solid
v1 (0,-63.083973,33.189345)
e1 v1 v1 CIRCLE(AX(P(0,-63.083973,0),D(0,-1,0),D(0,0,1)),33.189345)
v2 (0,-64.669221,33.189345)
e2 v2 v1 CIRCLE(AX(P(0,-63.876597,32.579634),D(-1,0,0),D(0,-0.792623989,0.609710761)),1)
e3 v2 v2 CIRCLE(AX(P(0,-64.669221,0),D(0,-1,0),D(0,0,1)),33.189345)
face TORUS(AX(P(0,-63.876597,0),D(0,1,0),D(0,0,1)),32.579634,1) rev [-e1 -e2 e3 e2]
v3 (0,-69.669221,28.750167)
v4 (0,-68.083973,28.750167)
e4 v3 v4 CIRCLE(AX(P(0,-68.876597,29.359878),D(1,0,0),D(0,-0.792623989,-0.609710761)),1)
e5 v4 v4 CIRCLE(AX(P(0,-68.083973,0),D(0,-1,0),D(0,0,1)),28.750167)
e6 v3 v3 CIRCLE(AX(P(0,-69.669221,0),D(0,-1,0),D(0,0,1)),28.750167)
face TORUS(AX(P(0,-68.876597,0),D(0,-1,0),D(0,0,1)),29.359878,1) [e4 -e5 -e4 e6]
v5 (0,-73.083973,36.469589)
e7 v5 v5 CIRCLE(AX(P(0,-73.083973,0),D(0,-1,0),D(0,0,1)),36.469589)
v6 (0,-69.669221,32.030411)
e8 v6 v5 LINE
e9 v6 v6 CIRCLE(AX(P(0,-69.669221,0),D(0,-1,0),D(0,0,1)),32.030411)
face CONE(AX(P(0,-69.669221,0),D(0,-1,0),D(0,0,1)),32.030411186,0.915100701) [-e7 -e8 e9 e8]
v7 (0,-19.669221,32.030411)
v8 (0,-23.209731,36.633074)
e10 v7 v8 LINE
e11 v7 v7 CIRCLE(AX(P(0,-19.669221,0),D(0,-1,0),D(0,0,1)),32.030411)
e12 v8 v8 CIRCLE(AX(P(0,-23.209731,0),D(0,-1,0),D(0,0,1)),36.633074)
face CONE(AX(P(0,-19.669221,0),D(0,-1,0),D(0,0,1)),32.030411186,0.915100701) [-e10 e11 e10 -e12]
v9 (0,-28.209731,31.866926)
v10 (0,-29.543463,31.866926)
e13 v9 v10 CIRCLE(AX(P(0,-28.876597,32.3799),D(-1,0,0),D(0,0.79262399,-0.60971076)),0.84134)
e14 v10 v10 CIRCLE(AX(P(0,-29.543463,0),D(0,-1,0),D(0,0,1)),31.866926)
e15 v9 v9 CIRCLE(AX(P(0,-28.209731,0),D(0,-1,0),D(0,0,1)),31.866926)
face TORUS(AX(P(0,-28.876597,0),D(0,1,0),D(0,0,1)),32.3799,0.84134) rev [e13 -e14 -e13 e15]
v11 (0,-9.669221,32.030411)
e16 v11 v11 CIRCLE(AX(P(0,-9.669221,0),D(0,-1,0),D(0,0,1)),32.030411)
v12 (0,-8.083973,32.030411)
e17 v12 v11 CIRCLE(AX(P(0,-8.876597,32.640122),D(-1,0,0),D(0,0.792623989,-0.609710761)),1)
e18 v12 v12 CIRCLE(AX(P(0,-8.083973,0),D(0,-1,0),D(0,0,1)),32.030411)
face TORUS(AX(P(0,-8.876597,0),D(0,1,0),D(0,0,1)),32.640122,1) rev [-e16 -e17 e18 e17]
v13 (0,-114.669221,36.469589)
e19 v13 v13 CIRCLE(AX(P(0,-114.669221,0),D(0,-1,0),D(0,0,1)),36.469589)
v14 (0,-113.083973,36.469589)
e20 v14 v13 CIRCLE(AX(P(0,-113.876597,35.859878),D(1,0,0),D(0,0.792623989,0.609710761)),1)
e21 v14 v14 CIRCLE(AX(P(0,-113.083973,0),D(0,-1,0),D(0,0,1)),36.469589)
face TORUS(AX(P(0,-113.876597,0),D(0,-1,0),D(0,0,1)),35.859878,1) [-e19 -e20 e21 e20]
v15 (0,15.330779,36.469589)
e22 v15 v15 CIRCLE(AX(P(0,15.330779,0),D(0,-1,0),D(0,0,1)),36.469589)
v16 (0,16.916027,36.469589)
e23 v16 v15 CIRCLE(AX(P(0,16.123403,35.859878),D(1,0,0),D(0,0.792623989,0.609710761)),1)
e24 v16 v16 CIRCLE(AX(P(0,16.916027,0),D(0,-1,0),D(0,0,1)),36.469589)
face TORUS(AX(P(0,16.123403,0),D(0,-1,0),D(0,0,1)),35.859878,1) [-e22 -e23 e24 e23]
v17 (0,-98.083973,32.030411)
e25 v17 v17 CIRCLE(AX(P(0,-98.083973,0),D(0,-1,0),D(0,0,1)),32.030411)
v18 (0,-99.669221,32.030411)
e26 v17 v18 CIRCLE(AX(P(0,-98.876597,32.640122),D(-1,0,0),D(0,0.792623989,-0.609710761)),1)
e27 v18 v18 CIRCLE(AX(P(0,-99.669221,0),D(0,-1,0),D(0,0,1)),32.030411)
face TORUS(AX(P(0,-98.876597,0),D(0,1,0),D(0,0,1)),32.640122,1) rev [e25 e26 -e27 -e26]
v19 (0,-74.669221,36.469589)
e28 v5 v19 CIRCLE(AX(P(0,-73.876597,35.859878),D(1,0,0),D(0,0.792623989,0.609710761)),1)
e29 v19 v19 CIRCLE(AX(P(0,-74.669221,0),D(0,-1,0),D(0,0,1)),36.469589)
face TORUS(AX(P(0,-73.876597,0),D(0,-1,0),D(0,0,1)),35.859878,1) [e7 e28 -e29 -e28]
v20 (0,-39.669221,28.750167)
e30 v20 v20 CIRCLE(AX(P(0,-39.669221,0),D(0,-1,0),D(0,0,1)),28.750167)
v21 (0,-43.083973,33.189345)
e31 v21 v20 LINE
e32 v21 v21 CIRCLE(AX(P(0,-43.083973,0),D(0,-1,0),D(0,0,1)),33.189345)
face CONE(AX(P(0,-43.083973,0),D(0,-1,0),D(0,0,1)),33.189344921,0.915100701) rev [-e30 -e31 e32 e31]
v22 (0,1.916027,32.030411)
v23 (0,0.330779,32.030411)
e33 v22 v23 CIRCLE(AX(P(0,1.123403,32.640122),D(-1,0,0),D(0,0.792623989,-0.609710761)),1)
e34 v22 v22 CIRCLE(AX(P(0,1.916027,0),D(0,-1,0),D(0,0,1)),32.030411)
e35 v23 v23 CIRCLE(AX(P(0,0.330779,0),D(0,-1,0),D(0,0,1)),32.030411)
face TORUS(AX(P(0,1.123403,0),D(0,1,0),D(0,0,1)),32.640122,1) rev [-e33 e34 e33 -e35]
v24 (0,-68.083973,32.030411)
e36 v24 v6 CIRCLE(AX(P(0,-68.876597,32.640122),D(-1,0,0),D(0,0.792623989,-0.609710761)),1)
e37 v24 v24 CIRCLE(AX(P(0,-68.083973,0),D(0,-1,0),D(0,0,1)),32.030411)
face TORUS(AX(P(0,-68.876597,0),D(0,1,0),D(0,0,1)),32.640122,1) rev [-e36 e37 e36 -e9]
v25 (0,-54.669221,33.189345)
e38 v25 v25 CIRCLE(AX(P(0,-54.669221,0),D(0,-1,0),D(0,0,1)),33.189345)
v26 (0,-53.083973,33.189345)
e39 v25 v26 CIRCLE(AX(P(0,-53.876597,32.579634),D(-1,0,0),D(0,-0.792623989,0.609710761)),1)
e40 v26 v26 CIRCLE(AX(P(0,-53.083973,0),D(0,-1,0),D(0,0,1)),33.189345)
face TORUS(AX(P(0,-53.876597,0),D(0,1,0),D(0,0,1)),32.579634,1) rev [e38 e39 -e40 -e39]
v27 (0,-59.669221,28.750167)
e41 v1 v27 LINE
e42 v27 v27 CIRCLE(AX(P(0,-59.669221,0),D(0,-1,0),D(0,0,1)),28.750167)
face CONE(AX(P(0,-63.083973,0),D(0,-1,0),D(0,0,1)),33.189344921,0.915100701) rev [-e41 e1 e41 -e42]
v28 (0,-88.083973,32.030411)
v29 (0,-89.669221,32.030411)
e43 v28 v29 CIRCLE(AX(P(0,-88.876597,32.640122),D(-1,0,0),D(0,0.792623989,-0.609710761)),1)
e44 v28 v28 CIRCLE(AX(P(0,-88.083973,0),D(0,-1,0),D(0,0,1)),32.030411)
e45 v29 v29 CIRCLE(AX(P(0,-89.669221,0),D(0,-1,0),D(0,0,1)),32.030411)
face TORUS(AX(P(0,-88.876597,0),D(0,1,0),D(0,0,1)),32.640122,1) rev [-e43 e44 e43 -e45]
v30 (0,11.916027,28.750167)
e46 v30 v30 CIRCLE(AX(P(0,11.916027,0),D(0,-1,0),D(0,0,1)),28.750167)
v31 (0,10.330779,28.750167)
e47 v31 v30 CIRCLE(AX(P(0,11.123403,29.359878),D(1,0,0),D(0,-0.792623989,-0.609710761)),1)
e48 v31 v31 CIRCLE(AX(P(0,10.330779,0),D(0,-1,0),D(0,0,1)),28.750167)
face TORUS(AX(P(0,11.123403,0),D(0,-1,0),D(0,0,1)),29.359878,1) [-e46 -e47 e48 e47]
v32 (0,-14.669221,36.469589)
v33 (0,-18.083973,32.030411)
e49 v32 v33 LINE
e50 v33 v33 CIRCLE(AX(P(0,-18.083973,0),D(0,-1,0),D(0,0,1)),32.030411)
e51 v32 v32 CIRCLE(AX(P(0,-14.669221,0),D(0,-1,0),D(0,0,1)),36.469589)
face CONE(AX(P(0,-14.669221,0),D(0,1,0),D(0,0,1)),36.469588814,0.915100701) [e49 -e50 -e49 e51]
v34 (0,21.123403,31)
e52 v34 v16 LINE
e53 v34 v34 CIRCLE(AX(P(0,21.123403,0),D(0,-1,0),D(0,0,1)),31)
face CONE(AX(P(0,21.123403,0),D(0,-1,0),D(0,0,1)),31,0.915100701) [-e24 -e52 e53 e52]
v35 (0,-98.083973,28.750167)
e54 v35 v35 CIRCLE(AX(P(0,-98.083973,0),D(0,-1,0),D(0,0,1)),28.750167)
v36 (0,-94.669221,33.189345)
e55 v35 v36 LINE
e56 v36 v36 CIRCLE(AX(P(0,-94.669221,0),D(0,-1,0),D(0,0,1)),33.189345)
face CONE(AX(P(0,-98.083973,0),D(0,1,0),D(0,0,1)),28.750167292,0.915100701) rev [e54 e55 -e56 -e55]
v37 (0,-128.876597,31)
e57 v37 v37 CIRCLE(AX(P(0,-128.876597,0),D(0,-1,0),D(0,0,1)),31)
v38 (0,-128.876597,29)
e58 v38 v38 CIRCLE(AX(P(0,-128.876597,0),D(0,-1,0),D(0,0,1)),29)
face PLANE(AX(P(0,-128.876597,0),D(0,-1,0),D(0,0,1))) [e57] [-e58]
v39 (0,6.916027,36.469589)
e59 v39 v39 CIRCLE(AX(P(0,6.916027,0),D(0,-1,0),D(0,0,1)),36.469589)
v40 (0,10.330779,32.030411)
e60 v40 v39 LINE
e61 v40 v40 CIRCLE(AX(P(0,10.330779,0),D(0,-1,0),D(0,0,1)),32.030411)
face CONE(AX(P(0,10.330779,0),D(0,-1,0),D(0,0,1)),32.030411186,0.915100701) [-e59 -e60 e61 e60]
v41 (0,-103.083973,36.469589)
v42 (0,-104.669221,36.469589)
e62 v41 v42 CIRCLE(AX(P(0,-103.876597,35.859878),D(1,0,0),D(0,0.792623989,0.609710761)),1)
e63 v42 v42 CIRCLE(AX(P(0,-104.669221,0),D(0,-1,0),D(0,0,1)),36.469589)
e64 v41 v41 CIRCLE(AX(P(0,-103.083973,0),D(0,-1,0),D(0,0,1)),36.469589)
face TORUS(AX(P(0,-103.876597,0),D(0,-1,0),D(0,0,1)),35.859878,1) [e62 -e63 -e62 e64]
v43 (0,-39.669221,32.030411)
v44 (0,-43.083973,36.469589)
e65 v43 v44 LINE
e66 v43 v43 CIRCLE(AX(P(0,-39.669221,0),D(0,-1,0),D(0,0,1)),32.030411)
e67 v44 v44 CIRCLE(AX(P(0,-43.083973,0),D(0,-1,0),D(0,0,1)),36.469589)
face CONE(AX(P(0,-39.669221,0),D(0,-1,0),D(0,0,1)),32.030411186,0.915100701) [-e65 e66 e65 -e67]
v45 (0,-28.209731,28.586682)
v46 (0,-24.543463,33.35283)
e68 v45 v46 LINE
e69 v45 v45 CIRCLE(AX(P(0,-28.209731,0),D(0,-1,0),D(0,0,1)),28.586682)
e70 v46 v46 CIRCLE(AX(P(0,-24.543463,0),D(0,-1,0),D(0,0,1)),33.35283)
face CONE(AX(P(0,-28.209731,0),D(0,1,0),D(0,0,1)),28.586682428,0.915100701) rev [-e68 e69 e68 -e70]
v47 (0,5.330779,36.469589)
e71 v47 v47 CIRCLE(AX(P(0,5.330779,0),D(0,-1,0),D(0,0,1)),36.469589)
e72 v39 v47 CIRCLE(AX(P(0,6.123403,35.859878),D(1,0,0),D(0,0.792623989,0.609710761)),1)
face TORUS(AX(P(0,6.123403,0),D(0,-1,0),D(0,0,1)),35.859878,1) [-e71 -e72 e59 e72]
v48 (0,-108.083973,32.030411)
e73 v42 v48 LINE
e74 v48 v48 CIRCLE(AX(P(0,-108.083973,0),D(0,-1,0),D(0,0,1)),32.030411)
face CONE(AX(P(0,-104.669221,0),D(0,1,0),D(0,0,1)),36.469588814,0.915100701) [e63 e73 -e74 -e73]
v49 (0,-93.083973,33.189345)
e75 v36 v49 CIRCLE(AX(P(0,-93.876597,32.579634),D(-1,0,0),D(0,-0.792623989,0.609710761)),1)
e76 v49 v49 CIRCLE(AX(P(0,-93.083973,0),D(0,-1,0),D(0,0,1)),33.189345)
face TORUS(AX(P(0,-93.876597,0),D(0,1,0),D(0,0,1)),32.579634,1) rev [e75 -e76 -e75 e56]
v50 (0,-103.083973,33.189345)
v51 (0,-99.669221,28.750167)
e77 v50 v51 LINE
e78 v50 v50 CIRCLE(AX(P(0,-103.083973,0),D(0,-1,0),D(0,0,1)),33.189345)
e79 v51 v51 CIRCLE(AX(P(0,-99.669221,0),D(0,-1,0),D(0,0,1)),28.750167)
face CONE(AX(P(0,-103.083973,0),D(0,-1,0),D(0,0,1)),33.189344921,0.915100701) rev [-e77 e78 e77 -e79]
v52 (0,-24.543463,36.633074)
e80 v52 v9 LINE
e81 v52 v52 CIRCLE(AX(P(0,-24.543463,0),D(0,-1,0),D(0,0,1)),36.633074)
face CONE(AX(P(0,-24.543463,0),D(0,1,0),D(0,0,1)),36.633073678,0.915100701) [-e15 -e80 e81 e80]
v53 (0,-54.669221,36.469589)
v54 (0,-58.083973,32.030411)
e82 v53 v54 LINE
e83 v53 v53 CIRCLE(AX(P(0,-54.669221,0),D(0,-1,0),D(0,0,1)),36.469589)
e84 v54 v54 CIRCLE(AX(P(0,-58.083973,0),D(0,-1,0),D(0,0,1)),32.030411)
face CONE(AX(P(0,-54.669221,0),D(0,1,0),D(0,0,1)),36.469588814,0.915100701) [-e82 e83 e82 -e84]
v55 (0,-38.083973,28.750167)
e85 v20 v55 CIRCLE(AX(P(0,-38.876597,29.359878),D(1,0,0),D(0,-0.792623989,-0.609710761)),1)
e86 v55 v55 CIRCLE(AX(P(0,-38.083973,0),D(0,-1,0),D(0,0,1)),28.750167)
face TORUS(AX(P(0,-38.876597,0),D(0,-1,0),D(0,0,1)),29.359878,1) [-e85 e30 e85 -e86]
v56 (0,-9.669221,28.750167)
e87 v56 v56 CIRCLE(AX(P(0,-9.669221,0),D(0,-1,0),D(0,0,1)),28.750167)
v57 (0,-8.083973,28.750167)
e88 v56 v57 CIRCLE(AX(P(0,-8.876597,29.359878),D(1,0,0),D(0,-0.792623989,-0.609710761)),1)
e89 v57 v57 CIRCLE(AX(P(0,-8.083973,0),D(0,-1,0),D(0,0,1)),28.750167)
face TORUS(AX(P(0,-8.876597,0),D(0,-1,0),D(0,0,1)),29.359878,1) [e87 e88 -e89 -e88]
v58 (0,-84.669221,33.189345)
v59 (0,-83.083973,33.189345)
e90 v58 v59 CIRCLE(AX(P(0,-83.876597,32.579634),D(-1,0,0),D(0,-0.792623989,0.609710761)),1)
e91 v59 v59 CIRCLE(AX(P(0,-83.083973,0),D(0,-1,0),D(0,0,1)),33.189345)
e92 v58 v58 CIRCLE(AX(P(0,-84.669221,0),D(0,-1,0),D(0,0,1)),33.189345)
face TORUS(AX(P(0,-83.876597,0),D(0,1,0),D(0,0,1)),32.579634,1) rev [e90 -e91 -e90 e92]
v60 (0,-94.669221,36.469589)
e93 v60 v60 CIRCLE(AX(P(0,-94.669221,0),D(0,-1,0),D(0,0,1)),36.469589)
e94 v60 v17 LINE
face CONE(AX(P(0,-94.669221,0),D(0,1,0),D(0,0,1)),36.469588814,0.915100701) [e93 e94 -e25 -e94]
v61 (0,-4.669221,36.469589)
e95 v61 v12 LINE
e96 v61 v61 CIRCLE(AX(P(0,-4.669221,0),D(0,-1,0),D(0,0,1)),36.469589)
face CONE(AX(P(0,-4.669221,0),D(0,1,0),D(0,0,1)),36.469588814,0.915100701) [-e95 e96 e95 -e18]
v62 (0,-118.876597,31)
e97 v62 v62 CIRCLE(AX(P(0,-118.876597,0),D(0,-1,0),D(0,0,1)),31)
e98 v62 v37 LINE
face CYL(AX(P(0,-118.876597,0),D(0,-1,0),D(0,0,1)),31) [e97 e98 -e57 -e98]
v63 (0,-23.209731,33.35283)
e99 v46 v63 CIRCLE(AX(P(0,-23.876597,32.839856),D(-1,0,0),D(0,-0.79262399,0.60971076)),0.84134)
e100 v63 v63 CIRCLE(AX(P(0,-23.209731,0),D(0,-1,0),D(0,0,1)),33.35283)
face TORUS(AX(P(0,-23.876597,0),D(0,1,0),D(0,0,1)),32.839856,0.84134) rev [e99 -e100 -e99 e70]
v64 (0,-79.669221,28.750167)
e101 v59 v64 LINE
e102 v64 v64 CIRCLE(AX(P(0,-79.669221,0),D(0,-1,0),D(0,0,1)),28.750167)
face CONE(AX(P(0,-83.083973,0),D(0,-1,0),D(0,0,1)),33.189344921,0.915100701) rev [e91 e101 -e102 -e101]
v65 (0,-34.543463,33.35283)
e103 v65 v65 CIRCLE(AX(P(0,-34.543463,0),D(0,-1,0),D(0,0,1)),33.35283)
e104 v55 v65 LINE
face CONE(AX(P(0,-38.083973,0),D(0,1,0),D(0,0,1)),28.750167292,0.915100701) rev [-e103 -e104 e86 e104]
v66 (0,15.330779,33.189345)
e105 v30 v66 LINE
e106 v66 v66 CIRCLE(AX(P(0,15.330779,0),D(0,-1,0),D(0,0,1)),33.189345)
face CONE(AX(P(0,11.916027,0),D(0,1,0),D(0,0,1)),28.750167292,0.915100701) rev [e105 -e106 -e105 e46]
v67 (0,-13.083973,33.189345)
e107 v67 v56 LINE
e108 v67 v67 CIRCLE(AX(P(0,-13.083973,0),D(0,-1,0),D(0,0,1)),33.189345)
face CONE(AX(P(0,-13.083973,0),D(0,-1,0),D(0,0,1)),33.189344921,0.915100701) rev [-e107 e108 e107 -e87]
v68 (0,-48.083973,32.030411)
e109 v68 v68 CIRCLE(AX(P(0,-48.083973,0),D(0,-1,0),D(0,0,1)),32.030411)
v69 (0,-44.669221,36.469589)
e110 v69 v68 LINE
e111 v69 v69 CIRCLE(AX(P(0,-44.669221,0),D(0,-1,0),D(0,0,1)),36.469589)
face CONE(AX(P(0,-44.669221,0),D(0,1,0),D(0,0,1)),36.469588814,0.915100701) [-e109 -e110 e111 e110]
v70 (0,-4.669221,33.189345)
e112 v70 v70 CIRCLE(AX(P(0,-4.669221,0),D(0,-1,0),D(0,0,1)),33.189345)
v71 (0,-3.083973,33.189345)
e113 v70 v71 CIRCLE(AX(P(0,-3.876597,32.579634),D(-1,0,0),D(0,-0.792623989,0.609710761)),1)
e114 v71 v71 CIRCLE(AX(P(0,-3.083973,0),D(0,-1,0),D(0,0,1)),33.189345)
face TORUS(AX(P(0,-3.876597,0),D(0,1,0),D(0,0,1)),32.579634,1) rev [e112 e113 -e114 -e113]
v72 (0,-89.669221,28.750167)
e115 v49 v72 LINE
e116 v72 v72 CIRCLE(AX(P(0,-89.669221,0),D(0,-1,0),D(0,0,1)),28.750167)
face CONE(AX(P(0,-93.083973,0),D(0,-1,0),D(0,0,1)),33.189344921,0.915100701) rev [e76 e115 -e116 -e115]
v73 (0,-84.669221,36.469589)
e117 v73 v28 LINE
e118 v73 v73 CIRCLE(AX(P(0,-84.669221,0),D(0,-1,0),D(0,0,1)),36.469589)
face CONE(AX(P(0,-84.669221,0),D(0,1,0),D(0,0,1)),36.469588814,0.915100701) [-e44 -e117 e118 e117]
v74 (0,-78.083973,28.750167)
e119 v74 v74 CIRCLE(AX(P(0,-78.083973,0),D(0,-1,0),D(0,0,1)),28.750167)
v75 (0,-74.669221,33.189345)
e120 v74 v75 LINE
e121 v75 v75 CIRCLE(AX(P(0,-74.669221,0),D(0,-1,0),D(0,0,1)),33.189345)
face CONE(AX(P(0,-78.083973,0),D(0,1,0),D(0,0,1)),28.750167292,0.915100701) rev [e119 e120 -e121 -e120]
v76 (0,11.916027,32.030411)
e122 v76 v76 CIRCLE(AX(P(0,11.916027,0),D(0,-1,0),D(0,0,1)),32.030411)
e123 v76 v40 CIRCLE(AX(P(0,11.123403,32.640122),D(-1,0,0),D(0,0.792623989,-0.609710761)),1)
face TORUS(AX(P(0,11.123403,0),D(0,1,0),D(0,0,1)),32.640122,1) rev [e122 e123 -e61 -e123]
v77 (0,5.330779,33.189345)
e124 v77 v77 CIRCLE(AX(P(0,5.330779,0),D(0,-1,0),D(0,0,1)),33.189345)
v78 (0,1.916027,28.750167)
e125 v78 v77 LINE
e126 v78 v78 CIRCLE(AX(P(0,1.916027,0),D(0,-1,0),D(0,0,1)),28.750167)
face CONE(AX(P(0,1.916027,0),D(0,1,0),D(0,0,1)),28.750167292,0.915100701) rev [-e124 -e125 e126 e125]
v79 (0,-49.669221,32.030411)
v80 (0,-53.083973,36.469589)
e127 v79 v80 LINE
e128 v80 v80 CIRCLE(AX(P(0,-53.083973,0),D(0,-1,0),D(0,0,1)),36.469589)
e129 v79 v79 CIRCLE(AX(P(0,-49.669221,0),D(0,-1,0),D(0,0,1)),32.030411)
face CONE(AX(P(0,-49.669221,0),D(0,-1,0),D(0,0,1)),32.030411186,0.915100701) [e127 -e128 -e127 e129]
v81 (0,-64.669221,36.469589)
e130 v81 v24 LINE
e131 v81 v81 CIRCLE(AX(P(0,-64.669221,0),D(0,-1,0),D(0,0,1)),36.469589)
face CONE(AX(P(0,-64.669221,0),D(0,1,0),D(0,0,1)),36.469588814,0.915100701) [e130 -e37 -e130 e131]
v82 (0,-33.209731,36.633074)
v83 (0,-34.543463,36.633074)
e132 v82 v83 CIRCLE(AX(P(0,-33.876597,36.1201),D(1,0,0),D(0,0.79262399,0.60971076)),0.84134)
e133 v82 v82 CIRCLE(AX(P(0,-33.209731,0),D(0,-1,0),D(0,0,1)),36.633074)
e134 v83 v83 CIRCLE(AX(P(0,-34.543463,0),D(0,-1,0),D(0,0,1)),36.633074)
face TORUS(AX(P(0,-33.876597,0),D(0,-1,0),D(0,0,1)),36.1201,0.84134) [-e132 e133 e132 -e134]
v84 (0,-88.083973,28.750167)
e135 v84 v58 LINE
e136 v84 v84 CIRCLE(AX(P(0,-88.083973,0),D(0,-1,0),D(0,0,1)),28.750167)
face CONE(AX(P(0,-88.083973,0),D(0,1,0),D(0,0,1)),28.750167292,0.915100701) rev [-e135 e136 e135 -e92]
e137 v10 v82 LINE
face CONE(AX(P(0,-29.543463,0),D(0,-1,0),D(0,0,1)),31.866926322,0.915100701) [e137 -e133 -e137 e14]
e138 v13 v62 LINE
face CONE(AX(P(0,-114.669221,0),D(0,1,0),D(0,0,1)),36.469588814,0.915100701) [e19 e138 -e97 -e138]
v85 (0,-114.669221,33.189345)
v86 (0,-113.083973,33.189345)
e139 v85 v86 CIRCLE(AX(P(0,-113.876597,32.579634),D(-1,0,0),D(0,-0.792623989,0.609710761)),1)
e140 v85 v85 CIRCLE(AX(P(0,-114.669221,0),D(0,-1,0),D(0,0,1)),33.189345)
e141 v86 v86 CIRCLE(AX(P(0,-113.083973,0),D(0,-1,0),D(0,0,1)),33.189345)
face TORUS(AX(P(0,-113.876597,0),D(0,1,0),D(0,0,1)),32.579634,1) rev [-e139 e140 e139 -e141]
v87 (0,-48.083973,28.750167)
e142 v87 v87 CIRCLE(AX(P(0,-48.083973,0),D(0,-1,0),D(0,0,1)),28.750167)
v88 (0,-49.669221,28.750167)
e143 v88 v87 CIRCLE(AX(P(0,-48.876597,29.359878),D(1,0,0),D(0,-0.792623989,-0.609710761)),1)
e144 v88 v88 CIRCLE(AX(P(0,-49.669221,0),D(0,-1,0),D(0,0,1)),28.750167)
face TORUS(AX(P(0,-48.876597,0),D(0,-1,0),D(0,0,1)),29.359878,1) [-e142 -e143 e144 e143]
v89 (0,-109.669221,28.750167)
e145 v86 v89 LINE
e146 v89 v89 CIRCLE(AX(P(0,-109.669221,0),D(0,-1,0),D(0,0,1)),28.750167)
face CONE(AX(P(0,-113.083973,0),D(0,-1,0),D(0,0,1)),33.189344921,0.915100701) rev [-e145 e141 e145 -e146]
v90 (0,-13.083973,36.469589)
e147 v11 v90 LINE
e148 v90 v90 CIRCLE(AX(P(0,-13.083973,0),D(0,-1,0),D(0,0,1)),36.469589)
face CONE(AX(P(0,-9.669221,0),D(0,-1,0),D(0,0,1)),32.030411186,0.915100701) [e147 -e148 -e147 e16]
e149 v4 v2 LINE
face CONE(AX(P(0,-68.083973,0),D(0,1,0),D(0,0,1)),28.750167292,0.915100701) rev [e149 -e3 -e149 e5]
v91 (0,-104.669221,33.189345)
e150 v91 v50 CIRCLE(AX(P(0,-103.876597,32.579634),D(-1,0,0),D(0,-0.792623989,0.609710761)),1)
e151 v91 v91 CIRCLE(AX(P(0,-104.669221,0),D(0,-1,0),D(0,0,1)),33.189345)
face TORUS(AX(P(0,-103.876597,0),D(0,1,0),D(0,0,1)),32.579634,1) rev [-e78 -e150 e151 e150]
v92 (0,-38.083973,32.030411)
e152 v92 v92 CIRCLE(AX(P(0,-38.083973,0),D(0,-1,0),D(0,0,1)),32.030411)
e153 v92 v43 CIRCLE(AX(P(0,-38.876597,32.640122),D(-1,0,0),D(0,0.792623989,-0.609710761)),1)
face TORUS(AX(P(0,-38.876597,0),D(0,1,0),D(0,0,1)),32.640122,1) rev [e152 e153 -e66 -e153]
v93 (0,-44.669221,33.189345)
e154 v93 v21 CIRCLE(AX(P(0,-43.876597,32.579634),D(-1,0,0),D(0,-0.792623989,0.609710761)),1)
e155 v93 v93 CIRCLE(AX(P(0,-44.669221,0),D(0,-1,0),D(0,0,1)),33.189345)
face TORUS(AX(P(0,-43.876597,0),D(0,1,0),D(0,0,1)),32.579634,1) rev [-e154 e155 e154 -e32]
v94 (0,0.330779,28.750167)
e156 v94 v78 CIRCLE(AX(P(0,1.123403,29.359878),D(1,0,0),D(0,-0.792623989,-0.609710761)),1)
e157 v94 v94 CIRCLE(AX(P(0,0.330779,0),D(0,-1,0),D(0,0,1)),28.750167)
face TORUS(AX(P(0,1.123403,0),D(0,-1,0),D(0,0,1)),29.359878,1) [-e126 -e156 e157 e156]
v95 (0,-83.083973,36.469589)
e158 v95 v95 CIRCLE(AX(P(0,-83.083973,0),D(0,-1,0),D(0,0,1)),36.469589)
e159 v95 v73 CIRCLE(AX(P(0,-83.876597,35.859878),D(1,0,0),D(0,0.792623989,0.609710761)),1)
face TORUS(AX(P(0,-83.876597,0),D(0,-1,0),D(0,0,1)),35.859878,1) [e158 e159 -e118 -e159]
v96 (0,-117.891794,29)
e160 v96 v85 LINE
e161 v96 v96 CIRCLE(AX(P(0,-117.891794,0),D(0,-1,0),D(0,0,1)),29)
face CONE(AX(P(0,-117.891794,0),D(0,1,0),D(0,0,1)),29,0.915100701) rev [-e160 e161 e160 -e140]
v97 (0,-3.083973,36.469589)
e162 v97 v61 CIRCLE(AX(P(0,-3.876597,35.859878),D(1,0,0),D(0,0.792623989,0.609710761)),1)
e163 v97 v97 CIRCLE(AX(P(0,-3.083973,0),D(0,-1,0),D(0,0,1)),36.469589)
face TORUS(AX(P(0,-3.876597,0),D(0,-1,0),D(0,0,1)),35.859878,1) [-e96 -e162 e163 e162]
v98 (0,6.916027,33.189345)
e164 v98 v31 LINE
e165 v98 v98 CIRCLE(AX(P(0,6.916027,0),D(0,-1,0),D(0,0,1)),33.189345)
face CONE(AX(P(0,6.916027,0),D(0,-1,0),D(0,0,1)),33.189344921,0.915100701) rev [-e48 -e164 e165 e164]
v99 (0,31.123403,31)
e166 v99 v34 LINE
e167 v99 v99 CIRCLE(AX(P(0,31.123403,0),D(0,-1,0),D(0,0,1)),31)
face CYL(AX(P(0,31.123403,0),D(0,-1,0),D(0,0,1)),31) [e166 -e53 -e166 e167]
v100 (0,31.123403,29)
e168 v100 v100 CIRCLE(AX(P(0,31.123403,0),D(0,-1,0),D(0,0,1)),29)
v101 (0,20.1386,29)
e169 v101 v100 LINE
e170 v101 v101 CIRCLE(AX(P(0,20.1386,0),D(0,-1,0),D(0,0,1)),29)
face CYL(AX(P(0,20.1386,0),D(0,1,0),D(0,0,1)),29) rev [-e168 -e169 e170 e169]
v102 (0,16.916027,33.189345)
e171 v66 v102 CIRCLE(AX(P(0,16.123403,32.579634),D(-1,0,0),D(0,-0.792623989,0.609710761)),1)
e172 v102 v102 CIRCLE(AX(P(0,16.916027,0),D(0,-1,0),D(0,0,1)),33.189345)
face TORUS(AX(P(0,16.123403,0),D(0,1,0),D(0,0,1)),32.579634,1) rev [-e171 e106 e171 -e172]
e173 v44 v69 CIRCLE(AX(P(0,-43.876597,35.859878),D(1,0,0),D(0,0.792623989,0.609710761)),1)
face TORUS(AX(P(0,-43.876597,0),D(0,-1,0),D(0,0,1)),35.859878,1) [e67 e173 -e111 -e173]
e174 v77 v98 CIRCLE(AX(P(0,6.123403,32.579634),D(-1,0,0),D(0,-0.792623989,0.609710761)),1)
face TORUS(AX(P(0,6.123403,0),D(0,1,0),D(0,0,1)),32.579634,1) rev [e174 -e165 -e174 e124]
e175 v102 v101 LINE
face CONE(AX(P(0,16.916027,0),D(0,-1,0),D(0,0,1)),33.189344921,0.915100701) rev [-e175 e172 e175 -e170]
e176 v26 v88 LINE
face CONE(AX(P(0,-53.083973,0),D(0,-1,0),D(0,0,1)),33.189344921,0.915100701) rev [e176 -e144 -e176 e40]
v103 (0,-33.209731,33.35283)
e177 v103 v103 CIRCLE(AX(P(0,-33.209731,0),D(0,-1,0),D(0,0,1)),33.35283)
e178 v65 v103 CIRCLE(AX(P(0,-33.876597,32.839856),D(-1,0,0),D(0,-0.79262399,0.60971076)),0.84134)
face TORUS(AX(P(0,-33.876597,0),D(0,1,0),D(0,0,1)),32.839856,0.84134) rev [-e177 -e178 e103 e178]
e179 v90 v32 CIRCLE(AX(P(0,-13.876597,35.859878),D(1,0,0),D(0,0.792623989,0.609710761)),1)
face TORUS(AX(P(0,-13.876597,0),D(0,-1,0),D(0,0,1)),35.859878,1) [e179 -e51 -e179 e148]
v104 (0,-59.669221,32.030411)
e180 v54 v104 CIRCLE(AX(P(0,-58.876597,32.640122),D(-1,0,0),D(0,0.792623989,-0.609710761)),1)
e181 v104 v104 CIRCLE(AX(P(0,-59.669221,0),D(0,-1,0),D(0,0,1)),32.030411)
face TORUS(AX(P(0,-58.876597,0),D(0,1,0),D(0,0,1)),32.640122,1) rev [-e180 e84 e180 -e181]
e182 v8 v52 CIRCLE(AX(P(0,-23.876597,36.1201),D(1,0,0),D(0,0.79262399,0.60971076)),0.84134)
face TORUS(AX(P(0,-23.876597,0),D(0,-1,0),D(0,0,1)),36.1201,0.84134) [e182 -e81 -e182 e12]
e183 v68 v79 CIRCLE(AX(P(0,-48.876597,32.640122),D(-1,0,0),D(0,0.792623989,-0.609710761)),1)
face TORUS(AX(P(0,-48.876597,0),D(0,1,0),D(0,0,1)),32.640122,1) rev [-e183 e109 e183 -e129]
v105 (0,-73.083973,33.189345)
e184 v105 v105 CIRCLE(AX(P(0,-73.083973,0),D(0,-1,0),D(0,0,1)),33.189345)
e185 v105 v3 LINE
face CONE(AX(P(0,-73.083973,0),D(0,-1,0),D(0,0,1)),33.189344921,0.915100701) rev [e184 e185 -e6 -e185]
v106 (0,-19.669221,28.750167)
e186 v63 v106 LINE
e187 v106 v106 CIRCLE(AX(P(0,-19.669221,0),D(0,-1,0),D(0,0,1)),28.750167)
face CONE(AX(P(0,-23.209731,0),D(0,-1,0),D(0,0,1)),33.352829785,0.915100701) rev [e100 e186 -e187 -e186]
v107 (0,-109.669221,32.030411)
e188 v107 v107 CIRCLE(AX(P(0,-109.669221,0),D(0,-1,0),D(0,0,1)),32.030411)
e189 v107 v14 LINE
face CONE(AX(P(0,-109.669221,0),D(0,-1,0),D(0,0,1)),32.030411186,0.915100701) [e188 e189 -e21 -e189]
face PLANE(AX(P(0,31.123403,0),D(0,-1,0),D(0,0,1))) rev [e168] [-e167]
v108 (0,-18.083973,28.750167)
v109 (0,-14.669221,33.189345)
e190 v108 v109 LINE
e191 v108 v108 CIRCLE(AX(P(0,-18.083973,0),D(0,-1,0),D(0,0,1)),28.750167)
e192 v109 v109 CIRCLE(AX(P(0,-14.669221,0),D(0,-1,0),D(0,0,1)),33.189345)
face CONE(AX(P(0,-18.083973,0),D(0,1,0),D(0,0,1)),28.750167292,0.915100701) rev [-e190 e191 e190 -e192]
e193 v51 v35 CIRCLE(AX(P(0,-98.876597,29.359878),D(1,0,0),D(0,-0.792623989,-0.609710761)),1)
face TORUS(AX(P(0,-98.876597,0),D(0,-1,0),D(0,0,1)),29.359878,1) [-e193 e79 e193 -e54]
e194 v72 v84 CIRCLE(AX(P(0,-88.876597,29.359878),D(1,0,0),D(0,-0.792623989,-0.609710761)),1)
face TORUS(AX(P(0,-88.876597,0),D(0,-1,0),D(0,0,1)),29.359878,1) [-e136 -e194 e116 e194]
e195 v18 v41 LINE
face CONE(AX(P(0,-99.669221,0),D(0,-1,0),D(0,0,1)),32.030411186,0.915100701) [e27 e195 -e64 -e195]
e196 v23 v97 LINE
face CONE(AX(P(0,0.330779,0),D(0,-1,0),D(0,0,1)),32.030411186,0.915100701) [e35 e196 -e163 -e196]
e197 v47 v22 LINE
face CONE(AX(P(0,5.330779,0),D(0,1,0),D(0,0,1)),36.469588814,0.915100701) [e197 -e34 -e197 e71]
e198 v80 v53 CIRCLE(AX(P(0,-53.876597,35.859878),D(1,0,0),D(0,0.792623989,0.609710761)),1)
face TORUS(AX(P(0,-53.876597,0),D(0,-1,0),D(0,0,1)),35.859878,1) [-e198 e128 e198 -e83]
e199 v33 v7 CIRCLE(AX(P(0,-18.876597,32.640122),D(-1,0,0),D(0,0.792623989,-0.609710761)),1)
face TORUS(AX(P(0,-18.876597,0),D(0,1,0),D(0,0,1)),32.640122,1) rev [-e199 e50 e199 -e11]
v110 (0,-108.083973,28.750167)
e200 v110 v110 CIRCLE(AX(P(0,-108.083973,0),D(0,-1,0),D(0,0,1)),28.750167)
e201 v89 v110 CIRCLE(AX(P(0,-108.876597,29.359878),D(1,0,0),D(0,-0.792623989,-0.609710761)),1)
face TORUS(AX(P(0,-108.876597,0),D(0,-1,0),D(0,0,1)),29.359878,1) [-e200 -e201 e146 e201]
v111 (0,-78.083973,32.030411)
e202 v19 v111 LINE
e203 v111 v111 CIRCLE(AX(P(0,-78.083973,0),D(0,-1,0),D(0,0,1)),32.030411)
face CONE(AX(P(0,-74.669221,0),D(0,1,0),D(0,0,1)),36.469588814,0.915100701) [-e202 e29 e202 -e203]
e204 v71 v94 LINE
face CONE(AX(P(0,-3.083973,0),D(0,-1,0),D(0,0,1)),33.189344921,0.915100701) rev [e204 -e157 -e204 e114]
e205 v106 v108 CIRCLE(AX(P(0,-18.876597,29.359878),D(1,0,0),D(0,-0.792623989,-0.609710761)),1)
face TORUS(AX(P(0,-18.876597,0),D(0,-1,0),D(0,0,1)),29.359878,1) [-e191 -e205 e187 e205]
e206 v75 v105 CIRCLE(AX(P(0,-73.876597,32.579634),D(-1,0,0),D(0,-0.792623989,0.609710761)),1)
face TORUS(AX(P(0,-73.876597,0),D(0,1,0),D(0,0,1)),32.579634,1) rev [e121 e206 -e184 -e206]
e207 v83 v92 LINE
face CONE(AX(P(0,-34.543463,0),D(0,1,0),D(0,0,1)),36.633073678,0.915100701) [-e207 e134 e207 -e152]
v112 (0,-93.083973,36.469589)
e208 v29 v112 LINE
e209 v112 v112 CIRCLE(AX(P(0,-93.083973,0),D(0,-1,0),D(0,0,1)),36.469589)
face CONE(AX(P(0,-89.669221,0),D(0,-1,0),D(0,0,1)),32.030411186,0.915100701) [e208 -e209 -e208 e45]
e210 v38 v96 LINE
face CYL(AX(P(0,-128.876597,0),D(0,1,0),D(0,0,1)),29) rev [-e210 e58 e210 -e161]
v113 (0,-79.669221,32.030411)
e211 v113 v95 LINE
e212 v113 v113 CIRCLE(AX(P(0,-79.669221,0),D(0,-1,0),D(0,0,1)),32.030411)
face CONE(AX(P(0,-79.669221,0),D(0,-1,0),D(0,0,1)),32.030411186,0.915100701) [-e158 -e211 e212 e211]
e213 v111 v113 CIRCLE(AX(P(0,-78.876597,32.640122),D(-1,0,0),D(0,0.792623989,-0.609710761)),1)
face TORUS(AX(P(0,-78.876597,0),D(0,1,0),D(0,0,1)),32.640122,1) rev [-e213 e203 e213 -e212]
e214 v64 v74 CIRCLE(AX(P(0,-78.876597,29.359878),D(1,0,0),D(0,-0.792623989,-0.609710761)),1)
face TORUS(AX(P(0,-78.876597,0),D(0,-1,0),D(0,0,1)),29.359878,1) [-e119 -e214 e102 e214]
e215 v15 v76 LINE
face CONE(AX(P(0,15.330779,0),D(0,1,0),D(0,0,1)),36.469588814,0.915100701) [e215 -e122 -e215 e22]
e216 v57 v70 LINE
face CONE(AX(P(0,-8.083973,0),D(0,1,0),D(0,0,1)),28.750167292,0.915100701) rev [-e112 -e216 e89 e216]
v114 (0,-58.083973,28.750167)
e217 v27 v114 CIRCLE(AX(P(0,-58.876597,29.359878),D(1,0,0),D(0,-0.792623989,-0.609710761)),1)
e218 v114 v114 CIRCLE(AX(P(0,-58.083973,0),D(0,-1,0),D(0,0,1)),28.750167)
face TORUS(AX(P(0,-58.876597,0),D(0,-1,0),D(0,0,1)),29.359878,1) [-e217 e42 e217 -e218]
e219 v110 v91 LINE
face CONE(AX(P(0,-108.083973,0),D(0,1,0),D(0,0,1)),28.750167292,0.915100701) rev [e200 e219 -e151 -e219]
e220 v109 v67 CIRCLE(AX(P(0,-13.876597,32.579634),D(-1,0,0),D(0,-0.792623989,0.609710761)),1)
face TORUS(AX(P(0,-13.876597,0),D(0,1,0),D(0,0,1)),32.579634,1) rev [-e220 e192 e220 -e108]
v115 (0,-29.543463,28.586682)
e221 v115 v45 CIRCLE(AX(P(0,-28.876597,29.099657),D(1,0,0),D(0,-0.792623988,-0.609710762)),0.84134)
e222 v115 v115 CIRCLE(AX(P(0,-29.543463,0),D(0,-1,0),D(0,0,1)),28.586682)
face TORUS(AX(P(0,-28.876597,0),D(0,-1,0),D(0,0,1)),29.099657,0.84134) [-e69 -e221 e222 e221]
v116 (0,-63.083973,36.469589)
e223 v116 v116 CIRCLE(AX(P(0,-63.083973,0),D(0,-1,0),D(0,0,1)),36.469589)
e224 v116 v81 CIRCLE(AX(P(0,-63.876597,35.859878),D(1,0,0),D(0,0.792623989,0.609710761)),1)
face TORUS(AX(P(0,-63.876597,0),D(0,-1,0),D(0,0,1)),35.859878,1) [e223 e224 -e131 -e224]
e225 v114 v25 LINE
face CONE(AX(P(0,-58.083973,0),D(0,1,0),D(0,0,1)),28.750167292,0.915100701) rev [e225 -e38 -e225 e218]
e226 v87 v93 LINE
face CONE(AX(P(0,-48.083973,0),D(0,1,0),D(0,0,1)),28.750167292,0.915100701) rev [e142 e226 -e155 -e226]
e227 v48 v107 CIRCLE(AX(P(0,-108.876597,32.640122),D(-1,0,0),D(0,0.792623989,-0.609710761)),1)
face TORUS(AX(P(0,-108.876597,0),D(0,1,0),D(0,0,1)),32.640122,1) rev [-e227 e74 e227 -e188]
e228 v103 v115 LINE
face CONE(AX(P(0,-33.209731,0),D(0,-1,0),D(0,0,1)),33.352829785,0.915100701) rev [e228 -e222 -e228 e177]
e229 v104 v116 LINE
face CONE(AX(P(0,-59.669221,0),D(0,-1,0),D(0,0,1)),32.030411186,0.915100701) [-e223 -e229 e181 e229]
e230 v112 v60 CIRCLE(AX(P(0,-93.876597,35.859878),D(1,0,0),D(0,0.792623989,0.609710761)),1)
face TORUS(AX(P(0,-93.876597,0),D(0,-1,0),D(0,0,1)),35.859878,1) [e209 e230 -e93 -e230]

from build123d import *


with BuildPart() as part:
    # Sketch1 → Revolve1 (revolve)
    with BuildSketch(Plane(origin=(0, 0, 0), x_dir=(0, 0, -1), z_dir=(1, 0, 0))):
        with BuildLine():
            Line((-31, 31.12340293), (-31, 21.12340293))
            Line((-31, 21.12340293), (-36.469588814, 16.916026919))
            ThreePointArc((-36.469588814, 16.916026919), (-36.859878053, 16.12340293), (-36.469588814, 15.33077894))
            Line((-36.469588814, 15.33077894), (-32.030411186, 11.916026919))
            ThreePointArc((-32.030411186, 11.916026919), (-31.640121947, 11.12340293), (-32.030411186, 10.33077894))
            Line((-32.030411186, 10.33077894), (-36.469588814, 6.916026919))
            ThreePointArc((-36.469588814, 6.916026919), (-36.859878053, 6.12340293), (-36.469588814, 5.33077894))
            Line((-36.469588814, 5.33077894), (-32.030411186, 1.916026919))
            ThreePointArc((-32.030411186, 1.916026919), (-31.640121947, 1.12340293), (-32.030411186, 0.33077894))
            Line((-32.030411186, 0.33077894), (-36.469588814, -3.083973081))
            ThreePointArc((-36.469588814, -3.083973081), (-36.859878053, -3.87659707), (-36.469588814, -4.66922106))
            Line((-36.469588814, -4.66922106), (-32.030411186, -8.083973081))
            ThreePointArc((-32.030411186, -8.083973081), (-31.640121947, -8.87659707), (-32.030411186, -9.66922106))
            Line((-32.030411186, -9.66922106), (-36.469588814, -13.083973081))
            ThreePointArc((-36.469588814, -13.083973081), (-36.859878053, -13.87659707), (-36.469588814, -14.66922106))
            Line((-36.469588814, -14.66922106), (-32.030411186, -18.083973081))
            ThreePointArc((-32.030411186, -18.083973081), (-31.640121947, -18.87659707), (-32.030411186, -19.66922106))
            Line((-32.030411186, -19.66922106), (-36.633073678, -23.209730669))
            ThreePointArc((-36.633073678, -23.209730669), (-36.961439693, -23.87659707), (-36.633073678, -24.543463472))
            Line((-36.633073678, -24.543463472), (-31.866926322, -28.209730669))
            ThreePointArc((-31.866926322, -28.209730669), (-31.538560307, -28.87659707), (-31.866926322, -29.543463472))
            Line((-31.866926322, -29.543463472), (-36.633073678, -33.209730669))
            ThreePointArc((-36.633073678, -33.209730669), (-36.961439693, -33.87659707), (-36.633073678, -34.543463472))
            Line((-36.633073678, -34.543463472), (-32.030411186, -38.083973081))
            ThreePointArc((-32.030411186, -38.083973081), (-31.640121947, -38.87659707), (-32.030411186, -39.66922106))
            Line((-32.030411186, -39.66922106), (-36.469588814, -43.083973081))
            ThreePointArc((-36.469588814, -43.083973081), (-36.859878053, -43.87659707), (-36.469588814, -44.66922106))
            Line((-36.469588814, -44.66922106), (-32.030411186, -48.083973081))
            ThreePointArc((-32.030411186, -48.083973081), (-31.640121947, -48.87659707), (-32.030411186, -49.66922106))
            Line((-32.030411186, -49.66922106), (-36.469588814, -53.083973081))
            ThreePointArc((-36.469588814, -53.083973081), (-36.859878053, -53.87659707), (-36.469588814, -54.66922106))
            Line((-36.469588814, -54.66922106), (-32.030411186, -58.083973081))
            ThreePointArc((-32.030411186, -58.083973081), (-31.640121947, -58.87659707), (-32.030411186, -59.66922106))
            Line((-32.030411186, -59.66922106), (-36.469588814, -63.083973081))
            ThreePointArc((-36.469588814, -63.083973081), (-36.859878053, -63.87659707), (-36.469588814, -64.66922106))
            Line((-36.469588814, -64.66922106), (-32.030411186, -68.083973081))
            ThreePointArc((-32.030411186, -68.083973081), (-31.640121947, -68.87659707), (-32.030411186, -69.66922106))
            Line((-32.030411186, -69.66922106), (-36.469588814, -73.083973081))
            ThreePointArc((-36.469588814, -73.083973081), (-36.859878053, -73.87659707), (-36.469588814, -74.66922106))
            Line((-36.469588814, -74.66922106), (-32.030411186, -78.083973081))
            ThreePointArc((-32.030411186, -78.083973081), (-31.640121947, -78.87659707), (-32.030411186, -79.66922106))
            Line((-32.030411186, -79.66922106), (-36.469588814, -83.083973081))
            ThreePointArc((-36.469588814, -83.083973081), (-36.859878053, -83.87659707), (-36.469588814, -84.66922106))
            Line((-36.469588814, -84.66922106), (-32.030411186, -88.083973081))
            ThreePointArc((-32.030411186, -88.083973081), (-31.640121947, -88.87659707), (-32.030411186, -89.66922106))
            Line((-32.030411186, -89.66922106), (-36.469588814, -93.083973081))
            ThreePointArc((-36.469588814, -93.083973081), (-36.859878053, -93.87659707), (-36.469588814, -94.66922106))
            Line((-36.469588814, -94.66922106), (-32.030411186, -98.083973081))
            ThreePointArc((-32.030411186, -98.083973081), (-31.640121947, -98.87659707), (-32.030411186, -99.66922106))
            Line((-32.030411186, -99.66922106), (-36.469588814, -103.083973081))
            ThreePointArc((-36.469588814, -103.083973081), (-36.859878053, -103.87659707), (-36.469588814, -104.66922106))
            Line((-36.469588814, -104.66922106), (-32.030411186, -108.083973081))
            ThreePointArc((-32.030411186, -108.083973081), (-31.640121947, -108.87659707), (-32.030411186, -109.66922106))
            Line((-32.030411186, -109.66922106), (-36.469588814, -113.083973081))
            ThreePointArc((-36.469588814, -113.083973081), (-36.859878053, -113.87659707), (-36.469588814, -114.66922106))
            Line((-36.469588814, -114.66922106), (-31, -118.87659707))
            Line((-31, -118.87659707), (-31, -128.87659707))
            Line((-31, -128.87659707), (-29, -128.87659707))
            Line((-29, -128.87659707), (-29, -117.891794076))
            Line((-29, -117.891794076), (-33.189344921, -114.66922106))
            ThreePointArc((-33.189344921, -114.66922106), (-33.57963416, -113.87659707), (-33.189344921, -113.083973081))
            Line((-33.189344921, -113.083973081), (-28.750167292, -109.66922106))
            ThreePointArc((-28.750167292, -109.66922106), (-28.359878053, -108.87659707), (-28.750167292, -108.083973081))
            Line((-28.750167292, -108.083973081), (-33.189344921, -104.66922106))
            ThreePointArc((-33.189344921, -104.66922106), (-33.57963416, -103.87659707), (-33.189344921, -103.083973081))
            Line((-33.189344921, -103.083973081), (-28.750167292, -99.66922106))
            ThreePointArc((-28.750167292, -99.66922106), (-28.359878053, -98.87659707), (-28.750167292, -98.083973081))
            Line((-28.750167292, -98.083973081), (-33.189344921, -94.66922106))
            ThreePointArc((-33.189344921, -94.66922106), (-33.57963416, -93.87659707), (-33.189344921, -93.083973081))
            Line((-33.189344921, -93.083973081), (-28.750167292, -89.66922106))
            ThreePointArc((-28.750167292, -89.66922106), (-28.359878053, -88.87659707), (-28.750167292, -88.083973081))
            Line((-28.750167292, -88.083973081), (-33.189344921, -84.66922106))
            ThreePointArc((-33.189344921, -84.66922106), (-33.57963416, -83.87659707), (-33.189344921, -83.083973081))
            Line((-33.189344921, -83.083973081), (-28.750167292, -79.66922106))
            ThreePointArc((-28.750167292, -79.66922106), (-28.359878053, -78.87659707), (-28.750167292, -78.083973081))
            Line((-28.750167292, -78.083973081), (-33.189344921, -74.66922106))
            ThreePointArc((-33.189344921, -74.66922106), (-33.57963416, -73.87659707), (-33.189344921, -73.083973081))
            Line((-33.189344921, -73.083973081), (-28.750167292, -69.66922106))
            ThreePointArc((-28.750167292, -69.66922106), (-28.359878053, -68.87659707), (-28.750167292, -68.083973081))
            Line((-28.750167292, -68.083973081), (-33.189344921, -64.66922106))
            ThreePointArc((-33.189344921, -64.66922106), (-33.57963416, -63.87659707), (-33.189344921, -63.083973081))
            Line((-33.189344921, -63.083973081), (-28.750167292, -59.66922106))
            ThreePointArc((-28.750167292, -59.66922106), (-28.359878053, -58.87659707), (-28.750167292, -58.083973081))
            Line((-28.750167292, -58.083973081), (-33.189344921, -54.66922106))
            ThreePointArc((-33.189344921, -54.66922106), (-33.57963416, -53.87659707), (-33.189344921, -53.083973081))
            Line((-33.189344921, -53.083973081), (-28.750167292, -49.66922106))
            ThreePointArc((-28.750167292, -49.66922106), (-28.359878053, -48.87659707), (-28.750167292, -48.083973081))
            Line((-28.750167292, -48.083973081), (-33.189344921, -44.66922106))
            ThreePointArc((-33.189344921, -44.66922106), (-33.57963416, -43.87659707), (-33.189344921, -43.083973081))
            Line((-33.189344921, -43.083973081), (-28.750167292, -39.66922106))
            ThreePointArc((-28.750167292, -39.66922106), (-28.359878053, -38.87659707), (-28.750167292, -38.083973081))
            Line((-28.750167292, -38.083973081), (-33.352829785, -34.543463472))
            ThreePointArc((-33.352829785, -34.543463472), (-33.6811958, -33.87659707), (-33.352829785, -33.209730669))
            Line((-33.352829785, -33.209730669), (-28.586682428, -29.543463472))
            ThreePointArc((-28.586682428, -29.543463472), (-28.258316414, -28.87659707), (-28.586682428, -28.209730669))
            Line((-28.586682428, -28.209730669), (-33.352829785, -24.543463472))
            ThreePointArc((-33.352829785, -24.543463472), (-33.6811958, -23.87659707), (-33.352829785, -23.209730669))
            Line((-33.352829785, -23.209730669), (-28.750167292, -19.66922106))
            ThreePointArc((-28.750167292, -19.66922106), (-28.359878053, -18.87659707), (-28.750167292, -18.083973081))
            Line((-28.750167292, -18.083973081), (-33.189344921, -14.66922106))
            ThreePointArc((-33.189344921, -14.66922106), (-33.57963416, -13.87659707), (-33.189344921, -13.083973081))
            Line((-33.189344921, -13.083973081), (-28.750167292, -9.66922106))
            ThreePointArc((-28.750167292, -9.66922106), (-28.359878053, -8.87659707), (-28.750167292, -8.083973081))
            Line((-28.750167292, -8.083973081), (-33.189344921, -4.66922106))
            ThreePointArc((-33.189344921, -4.66922106), (-33.57963416, -3.87659707), (-33.189344921, -3.083973081))
            Line((-33.189344921, -3.083973081), (-28.750167292, 0.33077894))
            ThreePointArc((-28.750167292, 0.33077894), (-28.359878053, 1.12340293), (-28.750167292, 1.916026919))
            Line((-28.750167292, 1.916026919), (-33.189344921, 5.33077894))
            ThreePointArc((-33.189344921, 5.33077894), (-33.57963416, 6.12340293), (-33.189344921, 6.916026919))
            Line((-33.189344921, 6.916026919), (-28.750167292, 10.33077894))
            ThreePointArc((-28.750167292, 10.33077894), (-28.359878053, 11.12340293), (-28.750167292, 11.916026919))
            Line((-28.750167292, 11.916026919), (-33.189344921, 15.33077894))
            ThreePointArc((-33.189344921, 15.33077894), (-33.57963416, 16.12340293), (-33.189344921, 16.916026919))
            Line((-33.189344921, 16.916026919), (-29, 20.138599935))
            Line((-29, 20.138599935), (-29, 31.12340293))
            Line((-29, 31.12340293), (-31, 31.12340293))
        make_face()
    revolve(axis=Axis((0, 63.257575758, 0), (0, -1, 0)))


solid = part.part
